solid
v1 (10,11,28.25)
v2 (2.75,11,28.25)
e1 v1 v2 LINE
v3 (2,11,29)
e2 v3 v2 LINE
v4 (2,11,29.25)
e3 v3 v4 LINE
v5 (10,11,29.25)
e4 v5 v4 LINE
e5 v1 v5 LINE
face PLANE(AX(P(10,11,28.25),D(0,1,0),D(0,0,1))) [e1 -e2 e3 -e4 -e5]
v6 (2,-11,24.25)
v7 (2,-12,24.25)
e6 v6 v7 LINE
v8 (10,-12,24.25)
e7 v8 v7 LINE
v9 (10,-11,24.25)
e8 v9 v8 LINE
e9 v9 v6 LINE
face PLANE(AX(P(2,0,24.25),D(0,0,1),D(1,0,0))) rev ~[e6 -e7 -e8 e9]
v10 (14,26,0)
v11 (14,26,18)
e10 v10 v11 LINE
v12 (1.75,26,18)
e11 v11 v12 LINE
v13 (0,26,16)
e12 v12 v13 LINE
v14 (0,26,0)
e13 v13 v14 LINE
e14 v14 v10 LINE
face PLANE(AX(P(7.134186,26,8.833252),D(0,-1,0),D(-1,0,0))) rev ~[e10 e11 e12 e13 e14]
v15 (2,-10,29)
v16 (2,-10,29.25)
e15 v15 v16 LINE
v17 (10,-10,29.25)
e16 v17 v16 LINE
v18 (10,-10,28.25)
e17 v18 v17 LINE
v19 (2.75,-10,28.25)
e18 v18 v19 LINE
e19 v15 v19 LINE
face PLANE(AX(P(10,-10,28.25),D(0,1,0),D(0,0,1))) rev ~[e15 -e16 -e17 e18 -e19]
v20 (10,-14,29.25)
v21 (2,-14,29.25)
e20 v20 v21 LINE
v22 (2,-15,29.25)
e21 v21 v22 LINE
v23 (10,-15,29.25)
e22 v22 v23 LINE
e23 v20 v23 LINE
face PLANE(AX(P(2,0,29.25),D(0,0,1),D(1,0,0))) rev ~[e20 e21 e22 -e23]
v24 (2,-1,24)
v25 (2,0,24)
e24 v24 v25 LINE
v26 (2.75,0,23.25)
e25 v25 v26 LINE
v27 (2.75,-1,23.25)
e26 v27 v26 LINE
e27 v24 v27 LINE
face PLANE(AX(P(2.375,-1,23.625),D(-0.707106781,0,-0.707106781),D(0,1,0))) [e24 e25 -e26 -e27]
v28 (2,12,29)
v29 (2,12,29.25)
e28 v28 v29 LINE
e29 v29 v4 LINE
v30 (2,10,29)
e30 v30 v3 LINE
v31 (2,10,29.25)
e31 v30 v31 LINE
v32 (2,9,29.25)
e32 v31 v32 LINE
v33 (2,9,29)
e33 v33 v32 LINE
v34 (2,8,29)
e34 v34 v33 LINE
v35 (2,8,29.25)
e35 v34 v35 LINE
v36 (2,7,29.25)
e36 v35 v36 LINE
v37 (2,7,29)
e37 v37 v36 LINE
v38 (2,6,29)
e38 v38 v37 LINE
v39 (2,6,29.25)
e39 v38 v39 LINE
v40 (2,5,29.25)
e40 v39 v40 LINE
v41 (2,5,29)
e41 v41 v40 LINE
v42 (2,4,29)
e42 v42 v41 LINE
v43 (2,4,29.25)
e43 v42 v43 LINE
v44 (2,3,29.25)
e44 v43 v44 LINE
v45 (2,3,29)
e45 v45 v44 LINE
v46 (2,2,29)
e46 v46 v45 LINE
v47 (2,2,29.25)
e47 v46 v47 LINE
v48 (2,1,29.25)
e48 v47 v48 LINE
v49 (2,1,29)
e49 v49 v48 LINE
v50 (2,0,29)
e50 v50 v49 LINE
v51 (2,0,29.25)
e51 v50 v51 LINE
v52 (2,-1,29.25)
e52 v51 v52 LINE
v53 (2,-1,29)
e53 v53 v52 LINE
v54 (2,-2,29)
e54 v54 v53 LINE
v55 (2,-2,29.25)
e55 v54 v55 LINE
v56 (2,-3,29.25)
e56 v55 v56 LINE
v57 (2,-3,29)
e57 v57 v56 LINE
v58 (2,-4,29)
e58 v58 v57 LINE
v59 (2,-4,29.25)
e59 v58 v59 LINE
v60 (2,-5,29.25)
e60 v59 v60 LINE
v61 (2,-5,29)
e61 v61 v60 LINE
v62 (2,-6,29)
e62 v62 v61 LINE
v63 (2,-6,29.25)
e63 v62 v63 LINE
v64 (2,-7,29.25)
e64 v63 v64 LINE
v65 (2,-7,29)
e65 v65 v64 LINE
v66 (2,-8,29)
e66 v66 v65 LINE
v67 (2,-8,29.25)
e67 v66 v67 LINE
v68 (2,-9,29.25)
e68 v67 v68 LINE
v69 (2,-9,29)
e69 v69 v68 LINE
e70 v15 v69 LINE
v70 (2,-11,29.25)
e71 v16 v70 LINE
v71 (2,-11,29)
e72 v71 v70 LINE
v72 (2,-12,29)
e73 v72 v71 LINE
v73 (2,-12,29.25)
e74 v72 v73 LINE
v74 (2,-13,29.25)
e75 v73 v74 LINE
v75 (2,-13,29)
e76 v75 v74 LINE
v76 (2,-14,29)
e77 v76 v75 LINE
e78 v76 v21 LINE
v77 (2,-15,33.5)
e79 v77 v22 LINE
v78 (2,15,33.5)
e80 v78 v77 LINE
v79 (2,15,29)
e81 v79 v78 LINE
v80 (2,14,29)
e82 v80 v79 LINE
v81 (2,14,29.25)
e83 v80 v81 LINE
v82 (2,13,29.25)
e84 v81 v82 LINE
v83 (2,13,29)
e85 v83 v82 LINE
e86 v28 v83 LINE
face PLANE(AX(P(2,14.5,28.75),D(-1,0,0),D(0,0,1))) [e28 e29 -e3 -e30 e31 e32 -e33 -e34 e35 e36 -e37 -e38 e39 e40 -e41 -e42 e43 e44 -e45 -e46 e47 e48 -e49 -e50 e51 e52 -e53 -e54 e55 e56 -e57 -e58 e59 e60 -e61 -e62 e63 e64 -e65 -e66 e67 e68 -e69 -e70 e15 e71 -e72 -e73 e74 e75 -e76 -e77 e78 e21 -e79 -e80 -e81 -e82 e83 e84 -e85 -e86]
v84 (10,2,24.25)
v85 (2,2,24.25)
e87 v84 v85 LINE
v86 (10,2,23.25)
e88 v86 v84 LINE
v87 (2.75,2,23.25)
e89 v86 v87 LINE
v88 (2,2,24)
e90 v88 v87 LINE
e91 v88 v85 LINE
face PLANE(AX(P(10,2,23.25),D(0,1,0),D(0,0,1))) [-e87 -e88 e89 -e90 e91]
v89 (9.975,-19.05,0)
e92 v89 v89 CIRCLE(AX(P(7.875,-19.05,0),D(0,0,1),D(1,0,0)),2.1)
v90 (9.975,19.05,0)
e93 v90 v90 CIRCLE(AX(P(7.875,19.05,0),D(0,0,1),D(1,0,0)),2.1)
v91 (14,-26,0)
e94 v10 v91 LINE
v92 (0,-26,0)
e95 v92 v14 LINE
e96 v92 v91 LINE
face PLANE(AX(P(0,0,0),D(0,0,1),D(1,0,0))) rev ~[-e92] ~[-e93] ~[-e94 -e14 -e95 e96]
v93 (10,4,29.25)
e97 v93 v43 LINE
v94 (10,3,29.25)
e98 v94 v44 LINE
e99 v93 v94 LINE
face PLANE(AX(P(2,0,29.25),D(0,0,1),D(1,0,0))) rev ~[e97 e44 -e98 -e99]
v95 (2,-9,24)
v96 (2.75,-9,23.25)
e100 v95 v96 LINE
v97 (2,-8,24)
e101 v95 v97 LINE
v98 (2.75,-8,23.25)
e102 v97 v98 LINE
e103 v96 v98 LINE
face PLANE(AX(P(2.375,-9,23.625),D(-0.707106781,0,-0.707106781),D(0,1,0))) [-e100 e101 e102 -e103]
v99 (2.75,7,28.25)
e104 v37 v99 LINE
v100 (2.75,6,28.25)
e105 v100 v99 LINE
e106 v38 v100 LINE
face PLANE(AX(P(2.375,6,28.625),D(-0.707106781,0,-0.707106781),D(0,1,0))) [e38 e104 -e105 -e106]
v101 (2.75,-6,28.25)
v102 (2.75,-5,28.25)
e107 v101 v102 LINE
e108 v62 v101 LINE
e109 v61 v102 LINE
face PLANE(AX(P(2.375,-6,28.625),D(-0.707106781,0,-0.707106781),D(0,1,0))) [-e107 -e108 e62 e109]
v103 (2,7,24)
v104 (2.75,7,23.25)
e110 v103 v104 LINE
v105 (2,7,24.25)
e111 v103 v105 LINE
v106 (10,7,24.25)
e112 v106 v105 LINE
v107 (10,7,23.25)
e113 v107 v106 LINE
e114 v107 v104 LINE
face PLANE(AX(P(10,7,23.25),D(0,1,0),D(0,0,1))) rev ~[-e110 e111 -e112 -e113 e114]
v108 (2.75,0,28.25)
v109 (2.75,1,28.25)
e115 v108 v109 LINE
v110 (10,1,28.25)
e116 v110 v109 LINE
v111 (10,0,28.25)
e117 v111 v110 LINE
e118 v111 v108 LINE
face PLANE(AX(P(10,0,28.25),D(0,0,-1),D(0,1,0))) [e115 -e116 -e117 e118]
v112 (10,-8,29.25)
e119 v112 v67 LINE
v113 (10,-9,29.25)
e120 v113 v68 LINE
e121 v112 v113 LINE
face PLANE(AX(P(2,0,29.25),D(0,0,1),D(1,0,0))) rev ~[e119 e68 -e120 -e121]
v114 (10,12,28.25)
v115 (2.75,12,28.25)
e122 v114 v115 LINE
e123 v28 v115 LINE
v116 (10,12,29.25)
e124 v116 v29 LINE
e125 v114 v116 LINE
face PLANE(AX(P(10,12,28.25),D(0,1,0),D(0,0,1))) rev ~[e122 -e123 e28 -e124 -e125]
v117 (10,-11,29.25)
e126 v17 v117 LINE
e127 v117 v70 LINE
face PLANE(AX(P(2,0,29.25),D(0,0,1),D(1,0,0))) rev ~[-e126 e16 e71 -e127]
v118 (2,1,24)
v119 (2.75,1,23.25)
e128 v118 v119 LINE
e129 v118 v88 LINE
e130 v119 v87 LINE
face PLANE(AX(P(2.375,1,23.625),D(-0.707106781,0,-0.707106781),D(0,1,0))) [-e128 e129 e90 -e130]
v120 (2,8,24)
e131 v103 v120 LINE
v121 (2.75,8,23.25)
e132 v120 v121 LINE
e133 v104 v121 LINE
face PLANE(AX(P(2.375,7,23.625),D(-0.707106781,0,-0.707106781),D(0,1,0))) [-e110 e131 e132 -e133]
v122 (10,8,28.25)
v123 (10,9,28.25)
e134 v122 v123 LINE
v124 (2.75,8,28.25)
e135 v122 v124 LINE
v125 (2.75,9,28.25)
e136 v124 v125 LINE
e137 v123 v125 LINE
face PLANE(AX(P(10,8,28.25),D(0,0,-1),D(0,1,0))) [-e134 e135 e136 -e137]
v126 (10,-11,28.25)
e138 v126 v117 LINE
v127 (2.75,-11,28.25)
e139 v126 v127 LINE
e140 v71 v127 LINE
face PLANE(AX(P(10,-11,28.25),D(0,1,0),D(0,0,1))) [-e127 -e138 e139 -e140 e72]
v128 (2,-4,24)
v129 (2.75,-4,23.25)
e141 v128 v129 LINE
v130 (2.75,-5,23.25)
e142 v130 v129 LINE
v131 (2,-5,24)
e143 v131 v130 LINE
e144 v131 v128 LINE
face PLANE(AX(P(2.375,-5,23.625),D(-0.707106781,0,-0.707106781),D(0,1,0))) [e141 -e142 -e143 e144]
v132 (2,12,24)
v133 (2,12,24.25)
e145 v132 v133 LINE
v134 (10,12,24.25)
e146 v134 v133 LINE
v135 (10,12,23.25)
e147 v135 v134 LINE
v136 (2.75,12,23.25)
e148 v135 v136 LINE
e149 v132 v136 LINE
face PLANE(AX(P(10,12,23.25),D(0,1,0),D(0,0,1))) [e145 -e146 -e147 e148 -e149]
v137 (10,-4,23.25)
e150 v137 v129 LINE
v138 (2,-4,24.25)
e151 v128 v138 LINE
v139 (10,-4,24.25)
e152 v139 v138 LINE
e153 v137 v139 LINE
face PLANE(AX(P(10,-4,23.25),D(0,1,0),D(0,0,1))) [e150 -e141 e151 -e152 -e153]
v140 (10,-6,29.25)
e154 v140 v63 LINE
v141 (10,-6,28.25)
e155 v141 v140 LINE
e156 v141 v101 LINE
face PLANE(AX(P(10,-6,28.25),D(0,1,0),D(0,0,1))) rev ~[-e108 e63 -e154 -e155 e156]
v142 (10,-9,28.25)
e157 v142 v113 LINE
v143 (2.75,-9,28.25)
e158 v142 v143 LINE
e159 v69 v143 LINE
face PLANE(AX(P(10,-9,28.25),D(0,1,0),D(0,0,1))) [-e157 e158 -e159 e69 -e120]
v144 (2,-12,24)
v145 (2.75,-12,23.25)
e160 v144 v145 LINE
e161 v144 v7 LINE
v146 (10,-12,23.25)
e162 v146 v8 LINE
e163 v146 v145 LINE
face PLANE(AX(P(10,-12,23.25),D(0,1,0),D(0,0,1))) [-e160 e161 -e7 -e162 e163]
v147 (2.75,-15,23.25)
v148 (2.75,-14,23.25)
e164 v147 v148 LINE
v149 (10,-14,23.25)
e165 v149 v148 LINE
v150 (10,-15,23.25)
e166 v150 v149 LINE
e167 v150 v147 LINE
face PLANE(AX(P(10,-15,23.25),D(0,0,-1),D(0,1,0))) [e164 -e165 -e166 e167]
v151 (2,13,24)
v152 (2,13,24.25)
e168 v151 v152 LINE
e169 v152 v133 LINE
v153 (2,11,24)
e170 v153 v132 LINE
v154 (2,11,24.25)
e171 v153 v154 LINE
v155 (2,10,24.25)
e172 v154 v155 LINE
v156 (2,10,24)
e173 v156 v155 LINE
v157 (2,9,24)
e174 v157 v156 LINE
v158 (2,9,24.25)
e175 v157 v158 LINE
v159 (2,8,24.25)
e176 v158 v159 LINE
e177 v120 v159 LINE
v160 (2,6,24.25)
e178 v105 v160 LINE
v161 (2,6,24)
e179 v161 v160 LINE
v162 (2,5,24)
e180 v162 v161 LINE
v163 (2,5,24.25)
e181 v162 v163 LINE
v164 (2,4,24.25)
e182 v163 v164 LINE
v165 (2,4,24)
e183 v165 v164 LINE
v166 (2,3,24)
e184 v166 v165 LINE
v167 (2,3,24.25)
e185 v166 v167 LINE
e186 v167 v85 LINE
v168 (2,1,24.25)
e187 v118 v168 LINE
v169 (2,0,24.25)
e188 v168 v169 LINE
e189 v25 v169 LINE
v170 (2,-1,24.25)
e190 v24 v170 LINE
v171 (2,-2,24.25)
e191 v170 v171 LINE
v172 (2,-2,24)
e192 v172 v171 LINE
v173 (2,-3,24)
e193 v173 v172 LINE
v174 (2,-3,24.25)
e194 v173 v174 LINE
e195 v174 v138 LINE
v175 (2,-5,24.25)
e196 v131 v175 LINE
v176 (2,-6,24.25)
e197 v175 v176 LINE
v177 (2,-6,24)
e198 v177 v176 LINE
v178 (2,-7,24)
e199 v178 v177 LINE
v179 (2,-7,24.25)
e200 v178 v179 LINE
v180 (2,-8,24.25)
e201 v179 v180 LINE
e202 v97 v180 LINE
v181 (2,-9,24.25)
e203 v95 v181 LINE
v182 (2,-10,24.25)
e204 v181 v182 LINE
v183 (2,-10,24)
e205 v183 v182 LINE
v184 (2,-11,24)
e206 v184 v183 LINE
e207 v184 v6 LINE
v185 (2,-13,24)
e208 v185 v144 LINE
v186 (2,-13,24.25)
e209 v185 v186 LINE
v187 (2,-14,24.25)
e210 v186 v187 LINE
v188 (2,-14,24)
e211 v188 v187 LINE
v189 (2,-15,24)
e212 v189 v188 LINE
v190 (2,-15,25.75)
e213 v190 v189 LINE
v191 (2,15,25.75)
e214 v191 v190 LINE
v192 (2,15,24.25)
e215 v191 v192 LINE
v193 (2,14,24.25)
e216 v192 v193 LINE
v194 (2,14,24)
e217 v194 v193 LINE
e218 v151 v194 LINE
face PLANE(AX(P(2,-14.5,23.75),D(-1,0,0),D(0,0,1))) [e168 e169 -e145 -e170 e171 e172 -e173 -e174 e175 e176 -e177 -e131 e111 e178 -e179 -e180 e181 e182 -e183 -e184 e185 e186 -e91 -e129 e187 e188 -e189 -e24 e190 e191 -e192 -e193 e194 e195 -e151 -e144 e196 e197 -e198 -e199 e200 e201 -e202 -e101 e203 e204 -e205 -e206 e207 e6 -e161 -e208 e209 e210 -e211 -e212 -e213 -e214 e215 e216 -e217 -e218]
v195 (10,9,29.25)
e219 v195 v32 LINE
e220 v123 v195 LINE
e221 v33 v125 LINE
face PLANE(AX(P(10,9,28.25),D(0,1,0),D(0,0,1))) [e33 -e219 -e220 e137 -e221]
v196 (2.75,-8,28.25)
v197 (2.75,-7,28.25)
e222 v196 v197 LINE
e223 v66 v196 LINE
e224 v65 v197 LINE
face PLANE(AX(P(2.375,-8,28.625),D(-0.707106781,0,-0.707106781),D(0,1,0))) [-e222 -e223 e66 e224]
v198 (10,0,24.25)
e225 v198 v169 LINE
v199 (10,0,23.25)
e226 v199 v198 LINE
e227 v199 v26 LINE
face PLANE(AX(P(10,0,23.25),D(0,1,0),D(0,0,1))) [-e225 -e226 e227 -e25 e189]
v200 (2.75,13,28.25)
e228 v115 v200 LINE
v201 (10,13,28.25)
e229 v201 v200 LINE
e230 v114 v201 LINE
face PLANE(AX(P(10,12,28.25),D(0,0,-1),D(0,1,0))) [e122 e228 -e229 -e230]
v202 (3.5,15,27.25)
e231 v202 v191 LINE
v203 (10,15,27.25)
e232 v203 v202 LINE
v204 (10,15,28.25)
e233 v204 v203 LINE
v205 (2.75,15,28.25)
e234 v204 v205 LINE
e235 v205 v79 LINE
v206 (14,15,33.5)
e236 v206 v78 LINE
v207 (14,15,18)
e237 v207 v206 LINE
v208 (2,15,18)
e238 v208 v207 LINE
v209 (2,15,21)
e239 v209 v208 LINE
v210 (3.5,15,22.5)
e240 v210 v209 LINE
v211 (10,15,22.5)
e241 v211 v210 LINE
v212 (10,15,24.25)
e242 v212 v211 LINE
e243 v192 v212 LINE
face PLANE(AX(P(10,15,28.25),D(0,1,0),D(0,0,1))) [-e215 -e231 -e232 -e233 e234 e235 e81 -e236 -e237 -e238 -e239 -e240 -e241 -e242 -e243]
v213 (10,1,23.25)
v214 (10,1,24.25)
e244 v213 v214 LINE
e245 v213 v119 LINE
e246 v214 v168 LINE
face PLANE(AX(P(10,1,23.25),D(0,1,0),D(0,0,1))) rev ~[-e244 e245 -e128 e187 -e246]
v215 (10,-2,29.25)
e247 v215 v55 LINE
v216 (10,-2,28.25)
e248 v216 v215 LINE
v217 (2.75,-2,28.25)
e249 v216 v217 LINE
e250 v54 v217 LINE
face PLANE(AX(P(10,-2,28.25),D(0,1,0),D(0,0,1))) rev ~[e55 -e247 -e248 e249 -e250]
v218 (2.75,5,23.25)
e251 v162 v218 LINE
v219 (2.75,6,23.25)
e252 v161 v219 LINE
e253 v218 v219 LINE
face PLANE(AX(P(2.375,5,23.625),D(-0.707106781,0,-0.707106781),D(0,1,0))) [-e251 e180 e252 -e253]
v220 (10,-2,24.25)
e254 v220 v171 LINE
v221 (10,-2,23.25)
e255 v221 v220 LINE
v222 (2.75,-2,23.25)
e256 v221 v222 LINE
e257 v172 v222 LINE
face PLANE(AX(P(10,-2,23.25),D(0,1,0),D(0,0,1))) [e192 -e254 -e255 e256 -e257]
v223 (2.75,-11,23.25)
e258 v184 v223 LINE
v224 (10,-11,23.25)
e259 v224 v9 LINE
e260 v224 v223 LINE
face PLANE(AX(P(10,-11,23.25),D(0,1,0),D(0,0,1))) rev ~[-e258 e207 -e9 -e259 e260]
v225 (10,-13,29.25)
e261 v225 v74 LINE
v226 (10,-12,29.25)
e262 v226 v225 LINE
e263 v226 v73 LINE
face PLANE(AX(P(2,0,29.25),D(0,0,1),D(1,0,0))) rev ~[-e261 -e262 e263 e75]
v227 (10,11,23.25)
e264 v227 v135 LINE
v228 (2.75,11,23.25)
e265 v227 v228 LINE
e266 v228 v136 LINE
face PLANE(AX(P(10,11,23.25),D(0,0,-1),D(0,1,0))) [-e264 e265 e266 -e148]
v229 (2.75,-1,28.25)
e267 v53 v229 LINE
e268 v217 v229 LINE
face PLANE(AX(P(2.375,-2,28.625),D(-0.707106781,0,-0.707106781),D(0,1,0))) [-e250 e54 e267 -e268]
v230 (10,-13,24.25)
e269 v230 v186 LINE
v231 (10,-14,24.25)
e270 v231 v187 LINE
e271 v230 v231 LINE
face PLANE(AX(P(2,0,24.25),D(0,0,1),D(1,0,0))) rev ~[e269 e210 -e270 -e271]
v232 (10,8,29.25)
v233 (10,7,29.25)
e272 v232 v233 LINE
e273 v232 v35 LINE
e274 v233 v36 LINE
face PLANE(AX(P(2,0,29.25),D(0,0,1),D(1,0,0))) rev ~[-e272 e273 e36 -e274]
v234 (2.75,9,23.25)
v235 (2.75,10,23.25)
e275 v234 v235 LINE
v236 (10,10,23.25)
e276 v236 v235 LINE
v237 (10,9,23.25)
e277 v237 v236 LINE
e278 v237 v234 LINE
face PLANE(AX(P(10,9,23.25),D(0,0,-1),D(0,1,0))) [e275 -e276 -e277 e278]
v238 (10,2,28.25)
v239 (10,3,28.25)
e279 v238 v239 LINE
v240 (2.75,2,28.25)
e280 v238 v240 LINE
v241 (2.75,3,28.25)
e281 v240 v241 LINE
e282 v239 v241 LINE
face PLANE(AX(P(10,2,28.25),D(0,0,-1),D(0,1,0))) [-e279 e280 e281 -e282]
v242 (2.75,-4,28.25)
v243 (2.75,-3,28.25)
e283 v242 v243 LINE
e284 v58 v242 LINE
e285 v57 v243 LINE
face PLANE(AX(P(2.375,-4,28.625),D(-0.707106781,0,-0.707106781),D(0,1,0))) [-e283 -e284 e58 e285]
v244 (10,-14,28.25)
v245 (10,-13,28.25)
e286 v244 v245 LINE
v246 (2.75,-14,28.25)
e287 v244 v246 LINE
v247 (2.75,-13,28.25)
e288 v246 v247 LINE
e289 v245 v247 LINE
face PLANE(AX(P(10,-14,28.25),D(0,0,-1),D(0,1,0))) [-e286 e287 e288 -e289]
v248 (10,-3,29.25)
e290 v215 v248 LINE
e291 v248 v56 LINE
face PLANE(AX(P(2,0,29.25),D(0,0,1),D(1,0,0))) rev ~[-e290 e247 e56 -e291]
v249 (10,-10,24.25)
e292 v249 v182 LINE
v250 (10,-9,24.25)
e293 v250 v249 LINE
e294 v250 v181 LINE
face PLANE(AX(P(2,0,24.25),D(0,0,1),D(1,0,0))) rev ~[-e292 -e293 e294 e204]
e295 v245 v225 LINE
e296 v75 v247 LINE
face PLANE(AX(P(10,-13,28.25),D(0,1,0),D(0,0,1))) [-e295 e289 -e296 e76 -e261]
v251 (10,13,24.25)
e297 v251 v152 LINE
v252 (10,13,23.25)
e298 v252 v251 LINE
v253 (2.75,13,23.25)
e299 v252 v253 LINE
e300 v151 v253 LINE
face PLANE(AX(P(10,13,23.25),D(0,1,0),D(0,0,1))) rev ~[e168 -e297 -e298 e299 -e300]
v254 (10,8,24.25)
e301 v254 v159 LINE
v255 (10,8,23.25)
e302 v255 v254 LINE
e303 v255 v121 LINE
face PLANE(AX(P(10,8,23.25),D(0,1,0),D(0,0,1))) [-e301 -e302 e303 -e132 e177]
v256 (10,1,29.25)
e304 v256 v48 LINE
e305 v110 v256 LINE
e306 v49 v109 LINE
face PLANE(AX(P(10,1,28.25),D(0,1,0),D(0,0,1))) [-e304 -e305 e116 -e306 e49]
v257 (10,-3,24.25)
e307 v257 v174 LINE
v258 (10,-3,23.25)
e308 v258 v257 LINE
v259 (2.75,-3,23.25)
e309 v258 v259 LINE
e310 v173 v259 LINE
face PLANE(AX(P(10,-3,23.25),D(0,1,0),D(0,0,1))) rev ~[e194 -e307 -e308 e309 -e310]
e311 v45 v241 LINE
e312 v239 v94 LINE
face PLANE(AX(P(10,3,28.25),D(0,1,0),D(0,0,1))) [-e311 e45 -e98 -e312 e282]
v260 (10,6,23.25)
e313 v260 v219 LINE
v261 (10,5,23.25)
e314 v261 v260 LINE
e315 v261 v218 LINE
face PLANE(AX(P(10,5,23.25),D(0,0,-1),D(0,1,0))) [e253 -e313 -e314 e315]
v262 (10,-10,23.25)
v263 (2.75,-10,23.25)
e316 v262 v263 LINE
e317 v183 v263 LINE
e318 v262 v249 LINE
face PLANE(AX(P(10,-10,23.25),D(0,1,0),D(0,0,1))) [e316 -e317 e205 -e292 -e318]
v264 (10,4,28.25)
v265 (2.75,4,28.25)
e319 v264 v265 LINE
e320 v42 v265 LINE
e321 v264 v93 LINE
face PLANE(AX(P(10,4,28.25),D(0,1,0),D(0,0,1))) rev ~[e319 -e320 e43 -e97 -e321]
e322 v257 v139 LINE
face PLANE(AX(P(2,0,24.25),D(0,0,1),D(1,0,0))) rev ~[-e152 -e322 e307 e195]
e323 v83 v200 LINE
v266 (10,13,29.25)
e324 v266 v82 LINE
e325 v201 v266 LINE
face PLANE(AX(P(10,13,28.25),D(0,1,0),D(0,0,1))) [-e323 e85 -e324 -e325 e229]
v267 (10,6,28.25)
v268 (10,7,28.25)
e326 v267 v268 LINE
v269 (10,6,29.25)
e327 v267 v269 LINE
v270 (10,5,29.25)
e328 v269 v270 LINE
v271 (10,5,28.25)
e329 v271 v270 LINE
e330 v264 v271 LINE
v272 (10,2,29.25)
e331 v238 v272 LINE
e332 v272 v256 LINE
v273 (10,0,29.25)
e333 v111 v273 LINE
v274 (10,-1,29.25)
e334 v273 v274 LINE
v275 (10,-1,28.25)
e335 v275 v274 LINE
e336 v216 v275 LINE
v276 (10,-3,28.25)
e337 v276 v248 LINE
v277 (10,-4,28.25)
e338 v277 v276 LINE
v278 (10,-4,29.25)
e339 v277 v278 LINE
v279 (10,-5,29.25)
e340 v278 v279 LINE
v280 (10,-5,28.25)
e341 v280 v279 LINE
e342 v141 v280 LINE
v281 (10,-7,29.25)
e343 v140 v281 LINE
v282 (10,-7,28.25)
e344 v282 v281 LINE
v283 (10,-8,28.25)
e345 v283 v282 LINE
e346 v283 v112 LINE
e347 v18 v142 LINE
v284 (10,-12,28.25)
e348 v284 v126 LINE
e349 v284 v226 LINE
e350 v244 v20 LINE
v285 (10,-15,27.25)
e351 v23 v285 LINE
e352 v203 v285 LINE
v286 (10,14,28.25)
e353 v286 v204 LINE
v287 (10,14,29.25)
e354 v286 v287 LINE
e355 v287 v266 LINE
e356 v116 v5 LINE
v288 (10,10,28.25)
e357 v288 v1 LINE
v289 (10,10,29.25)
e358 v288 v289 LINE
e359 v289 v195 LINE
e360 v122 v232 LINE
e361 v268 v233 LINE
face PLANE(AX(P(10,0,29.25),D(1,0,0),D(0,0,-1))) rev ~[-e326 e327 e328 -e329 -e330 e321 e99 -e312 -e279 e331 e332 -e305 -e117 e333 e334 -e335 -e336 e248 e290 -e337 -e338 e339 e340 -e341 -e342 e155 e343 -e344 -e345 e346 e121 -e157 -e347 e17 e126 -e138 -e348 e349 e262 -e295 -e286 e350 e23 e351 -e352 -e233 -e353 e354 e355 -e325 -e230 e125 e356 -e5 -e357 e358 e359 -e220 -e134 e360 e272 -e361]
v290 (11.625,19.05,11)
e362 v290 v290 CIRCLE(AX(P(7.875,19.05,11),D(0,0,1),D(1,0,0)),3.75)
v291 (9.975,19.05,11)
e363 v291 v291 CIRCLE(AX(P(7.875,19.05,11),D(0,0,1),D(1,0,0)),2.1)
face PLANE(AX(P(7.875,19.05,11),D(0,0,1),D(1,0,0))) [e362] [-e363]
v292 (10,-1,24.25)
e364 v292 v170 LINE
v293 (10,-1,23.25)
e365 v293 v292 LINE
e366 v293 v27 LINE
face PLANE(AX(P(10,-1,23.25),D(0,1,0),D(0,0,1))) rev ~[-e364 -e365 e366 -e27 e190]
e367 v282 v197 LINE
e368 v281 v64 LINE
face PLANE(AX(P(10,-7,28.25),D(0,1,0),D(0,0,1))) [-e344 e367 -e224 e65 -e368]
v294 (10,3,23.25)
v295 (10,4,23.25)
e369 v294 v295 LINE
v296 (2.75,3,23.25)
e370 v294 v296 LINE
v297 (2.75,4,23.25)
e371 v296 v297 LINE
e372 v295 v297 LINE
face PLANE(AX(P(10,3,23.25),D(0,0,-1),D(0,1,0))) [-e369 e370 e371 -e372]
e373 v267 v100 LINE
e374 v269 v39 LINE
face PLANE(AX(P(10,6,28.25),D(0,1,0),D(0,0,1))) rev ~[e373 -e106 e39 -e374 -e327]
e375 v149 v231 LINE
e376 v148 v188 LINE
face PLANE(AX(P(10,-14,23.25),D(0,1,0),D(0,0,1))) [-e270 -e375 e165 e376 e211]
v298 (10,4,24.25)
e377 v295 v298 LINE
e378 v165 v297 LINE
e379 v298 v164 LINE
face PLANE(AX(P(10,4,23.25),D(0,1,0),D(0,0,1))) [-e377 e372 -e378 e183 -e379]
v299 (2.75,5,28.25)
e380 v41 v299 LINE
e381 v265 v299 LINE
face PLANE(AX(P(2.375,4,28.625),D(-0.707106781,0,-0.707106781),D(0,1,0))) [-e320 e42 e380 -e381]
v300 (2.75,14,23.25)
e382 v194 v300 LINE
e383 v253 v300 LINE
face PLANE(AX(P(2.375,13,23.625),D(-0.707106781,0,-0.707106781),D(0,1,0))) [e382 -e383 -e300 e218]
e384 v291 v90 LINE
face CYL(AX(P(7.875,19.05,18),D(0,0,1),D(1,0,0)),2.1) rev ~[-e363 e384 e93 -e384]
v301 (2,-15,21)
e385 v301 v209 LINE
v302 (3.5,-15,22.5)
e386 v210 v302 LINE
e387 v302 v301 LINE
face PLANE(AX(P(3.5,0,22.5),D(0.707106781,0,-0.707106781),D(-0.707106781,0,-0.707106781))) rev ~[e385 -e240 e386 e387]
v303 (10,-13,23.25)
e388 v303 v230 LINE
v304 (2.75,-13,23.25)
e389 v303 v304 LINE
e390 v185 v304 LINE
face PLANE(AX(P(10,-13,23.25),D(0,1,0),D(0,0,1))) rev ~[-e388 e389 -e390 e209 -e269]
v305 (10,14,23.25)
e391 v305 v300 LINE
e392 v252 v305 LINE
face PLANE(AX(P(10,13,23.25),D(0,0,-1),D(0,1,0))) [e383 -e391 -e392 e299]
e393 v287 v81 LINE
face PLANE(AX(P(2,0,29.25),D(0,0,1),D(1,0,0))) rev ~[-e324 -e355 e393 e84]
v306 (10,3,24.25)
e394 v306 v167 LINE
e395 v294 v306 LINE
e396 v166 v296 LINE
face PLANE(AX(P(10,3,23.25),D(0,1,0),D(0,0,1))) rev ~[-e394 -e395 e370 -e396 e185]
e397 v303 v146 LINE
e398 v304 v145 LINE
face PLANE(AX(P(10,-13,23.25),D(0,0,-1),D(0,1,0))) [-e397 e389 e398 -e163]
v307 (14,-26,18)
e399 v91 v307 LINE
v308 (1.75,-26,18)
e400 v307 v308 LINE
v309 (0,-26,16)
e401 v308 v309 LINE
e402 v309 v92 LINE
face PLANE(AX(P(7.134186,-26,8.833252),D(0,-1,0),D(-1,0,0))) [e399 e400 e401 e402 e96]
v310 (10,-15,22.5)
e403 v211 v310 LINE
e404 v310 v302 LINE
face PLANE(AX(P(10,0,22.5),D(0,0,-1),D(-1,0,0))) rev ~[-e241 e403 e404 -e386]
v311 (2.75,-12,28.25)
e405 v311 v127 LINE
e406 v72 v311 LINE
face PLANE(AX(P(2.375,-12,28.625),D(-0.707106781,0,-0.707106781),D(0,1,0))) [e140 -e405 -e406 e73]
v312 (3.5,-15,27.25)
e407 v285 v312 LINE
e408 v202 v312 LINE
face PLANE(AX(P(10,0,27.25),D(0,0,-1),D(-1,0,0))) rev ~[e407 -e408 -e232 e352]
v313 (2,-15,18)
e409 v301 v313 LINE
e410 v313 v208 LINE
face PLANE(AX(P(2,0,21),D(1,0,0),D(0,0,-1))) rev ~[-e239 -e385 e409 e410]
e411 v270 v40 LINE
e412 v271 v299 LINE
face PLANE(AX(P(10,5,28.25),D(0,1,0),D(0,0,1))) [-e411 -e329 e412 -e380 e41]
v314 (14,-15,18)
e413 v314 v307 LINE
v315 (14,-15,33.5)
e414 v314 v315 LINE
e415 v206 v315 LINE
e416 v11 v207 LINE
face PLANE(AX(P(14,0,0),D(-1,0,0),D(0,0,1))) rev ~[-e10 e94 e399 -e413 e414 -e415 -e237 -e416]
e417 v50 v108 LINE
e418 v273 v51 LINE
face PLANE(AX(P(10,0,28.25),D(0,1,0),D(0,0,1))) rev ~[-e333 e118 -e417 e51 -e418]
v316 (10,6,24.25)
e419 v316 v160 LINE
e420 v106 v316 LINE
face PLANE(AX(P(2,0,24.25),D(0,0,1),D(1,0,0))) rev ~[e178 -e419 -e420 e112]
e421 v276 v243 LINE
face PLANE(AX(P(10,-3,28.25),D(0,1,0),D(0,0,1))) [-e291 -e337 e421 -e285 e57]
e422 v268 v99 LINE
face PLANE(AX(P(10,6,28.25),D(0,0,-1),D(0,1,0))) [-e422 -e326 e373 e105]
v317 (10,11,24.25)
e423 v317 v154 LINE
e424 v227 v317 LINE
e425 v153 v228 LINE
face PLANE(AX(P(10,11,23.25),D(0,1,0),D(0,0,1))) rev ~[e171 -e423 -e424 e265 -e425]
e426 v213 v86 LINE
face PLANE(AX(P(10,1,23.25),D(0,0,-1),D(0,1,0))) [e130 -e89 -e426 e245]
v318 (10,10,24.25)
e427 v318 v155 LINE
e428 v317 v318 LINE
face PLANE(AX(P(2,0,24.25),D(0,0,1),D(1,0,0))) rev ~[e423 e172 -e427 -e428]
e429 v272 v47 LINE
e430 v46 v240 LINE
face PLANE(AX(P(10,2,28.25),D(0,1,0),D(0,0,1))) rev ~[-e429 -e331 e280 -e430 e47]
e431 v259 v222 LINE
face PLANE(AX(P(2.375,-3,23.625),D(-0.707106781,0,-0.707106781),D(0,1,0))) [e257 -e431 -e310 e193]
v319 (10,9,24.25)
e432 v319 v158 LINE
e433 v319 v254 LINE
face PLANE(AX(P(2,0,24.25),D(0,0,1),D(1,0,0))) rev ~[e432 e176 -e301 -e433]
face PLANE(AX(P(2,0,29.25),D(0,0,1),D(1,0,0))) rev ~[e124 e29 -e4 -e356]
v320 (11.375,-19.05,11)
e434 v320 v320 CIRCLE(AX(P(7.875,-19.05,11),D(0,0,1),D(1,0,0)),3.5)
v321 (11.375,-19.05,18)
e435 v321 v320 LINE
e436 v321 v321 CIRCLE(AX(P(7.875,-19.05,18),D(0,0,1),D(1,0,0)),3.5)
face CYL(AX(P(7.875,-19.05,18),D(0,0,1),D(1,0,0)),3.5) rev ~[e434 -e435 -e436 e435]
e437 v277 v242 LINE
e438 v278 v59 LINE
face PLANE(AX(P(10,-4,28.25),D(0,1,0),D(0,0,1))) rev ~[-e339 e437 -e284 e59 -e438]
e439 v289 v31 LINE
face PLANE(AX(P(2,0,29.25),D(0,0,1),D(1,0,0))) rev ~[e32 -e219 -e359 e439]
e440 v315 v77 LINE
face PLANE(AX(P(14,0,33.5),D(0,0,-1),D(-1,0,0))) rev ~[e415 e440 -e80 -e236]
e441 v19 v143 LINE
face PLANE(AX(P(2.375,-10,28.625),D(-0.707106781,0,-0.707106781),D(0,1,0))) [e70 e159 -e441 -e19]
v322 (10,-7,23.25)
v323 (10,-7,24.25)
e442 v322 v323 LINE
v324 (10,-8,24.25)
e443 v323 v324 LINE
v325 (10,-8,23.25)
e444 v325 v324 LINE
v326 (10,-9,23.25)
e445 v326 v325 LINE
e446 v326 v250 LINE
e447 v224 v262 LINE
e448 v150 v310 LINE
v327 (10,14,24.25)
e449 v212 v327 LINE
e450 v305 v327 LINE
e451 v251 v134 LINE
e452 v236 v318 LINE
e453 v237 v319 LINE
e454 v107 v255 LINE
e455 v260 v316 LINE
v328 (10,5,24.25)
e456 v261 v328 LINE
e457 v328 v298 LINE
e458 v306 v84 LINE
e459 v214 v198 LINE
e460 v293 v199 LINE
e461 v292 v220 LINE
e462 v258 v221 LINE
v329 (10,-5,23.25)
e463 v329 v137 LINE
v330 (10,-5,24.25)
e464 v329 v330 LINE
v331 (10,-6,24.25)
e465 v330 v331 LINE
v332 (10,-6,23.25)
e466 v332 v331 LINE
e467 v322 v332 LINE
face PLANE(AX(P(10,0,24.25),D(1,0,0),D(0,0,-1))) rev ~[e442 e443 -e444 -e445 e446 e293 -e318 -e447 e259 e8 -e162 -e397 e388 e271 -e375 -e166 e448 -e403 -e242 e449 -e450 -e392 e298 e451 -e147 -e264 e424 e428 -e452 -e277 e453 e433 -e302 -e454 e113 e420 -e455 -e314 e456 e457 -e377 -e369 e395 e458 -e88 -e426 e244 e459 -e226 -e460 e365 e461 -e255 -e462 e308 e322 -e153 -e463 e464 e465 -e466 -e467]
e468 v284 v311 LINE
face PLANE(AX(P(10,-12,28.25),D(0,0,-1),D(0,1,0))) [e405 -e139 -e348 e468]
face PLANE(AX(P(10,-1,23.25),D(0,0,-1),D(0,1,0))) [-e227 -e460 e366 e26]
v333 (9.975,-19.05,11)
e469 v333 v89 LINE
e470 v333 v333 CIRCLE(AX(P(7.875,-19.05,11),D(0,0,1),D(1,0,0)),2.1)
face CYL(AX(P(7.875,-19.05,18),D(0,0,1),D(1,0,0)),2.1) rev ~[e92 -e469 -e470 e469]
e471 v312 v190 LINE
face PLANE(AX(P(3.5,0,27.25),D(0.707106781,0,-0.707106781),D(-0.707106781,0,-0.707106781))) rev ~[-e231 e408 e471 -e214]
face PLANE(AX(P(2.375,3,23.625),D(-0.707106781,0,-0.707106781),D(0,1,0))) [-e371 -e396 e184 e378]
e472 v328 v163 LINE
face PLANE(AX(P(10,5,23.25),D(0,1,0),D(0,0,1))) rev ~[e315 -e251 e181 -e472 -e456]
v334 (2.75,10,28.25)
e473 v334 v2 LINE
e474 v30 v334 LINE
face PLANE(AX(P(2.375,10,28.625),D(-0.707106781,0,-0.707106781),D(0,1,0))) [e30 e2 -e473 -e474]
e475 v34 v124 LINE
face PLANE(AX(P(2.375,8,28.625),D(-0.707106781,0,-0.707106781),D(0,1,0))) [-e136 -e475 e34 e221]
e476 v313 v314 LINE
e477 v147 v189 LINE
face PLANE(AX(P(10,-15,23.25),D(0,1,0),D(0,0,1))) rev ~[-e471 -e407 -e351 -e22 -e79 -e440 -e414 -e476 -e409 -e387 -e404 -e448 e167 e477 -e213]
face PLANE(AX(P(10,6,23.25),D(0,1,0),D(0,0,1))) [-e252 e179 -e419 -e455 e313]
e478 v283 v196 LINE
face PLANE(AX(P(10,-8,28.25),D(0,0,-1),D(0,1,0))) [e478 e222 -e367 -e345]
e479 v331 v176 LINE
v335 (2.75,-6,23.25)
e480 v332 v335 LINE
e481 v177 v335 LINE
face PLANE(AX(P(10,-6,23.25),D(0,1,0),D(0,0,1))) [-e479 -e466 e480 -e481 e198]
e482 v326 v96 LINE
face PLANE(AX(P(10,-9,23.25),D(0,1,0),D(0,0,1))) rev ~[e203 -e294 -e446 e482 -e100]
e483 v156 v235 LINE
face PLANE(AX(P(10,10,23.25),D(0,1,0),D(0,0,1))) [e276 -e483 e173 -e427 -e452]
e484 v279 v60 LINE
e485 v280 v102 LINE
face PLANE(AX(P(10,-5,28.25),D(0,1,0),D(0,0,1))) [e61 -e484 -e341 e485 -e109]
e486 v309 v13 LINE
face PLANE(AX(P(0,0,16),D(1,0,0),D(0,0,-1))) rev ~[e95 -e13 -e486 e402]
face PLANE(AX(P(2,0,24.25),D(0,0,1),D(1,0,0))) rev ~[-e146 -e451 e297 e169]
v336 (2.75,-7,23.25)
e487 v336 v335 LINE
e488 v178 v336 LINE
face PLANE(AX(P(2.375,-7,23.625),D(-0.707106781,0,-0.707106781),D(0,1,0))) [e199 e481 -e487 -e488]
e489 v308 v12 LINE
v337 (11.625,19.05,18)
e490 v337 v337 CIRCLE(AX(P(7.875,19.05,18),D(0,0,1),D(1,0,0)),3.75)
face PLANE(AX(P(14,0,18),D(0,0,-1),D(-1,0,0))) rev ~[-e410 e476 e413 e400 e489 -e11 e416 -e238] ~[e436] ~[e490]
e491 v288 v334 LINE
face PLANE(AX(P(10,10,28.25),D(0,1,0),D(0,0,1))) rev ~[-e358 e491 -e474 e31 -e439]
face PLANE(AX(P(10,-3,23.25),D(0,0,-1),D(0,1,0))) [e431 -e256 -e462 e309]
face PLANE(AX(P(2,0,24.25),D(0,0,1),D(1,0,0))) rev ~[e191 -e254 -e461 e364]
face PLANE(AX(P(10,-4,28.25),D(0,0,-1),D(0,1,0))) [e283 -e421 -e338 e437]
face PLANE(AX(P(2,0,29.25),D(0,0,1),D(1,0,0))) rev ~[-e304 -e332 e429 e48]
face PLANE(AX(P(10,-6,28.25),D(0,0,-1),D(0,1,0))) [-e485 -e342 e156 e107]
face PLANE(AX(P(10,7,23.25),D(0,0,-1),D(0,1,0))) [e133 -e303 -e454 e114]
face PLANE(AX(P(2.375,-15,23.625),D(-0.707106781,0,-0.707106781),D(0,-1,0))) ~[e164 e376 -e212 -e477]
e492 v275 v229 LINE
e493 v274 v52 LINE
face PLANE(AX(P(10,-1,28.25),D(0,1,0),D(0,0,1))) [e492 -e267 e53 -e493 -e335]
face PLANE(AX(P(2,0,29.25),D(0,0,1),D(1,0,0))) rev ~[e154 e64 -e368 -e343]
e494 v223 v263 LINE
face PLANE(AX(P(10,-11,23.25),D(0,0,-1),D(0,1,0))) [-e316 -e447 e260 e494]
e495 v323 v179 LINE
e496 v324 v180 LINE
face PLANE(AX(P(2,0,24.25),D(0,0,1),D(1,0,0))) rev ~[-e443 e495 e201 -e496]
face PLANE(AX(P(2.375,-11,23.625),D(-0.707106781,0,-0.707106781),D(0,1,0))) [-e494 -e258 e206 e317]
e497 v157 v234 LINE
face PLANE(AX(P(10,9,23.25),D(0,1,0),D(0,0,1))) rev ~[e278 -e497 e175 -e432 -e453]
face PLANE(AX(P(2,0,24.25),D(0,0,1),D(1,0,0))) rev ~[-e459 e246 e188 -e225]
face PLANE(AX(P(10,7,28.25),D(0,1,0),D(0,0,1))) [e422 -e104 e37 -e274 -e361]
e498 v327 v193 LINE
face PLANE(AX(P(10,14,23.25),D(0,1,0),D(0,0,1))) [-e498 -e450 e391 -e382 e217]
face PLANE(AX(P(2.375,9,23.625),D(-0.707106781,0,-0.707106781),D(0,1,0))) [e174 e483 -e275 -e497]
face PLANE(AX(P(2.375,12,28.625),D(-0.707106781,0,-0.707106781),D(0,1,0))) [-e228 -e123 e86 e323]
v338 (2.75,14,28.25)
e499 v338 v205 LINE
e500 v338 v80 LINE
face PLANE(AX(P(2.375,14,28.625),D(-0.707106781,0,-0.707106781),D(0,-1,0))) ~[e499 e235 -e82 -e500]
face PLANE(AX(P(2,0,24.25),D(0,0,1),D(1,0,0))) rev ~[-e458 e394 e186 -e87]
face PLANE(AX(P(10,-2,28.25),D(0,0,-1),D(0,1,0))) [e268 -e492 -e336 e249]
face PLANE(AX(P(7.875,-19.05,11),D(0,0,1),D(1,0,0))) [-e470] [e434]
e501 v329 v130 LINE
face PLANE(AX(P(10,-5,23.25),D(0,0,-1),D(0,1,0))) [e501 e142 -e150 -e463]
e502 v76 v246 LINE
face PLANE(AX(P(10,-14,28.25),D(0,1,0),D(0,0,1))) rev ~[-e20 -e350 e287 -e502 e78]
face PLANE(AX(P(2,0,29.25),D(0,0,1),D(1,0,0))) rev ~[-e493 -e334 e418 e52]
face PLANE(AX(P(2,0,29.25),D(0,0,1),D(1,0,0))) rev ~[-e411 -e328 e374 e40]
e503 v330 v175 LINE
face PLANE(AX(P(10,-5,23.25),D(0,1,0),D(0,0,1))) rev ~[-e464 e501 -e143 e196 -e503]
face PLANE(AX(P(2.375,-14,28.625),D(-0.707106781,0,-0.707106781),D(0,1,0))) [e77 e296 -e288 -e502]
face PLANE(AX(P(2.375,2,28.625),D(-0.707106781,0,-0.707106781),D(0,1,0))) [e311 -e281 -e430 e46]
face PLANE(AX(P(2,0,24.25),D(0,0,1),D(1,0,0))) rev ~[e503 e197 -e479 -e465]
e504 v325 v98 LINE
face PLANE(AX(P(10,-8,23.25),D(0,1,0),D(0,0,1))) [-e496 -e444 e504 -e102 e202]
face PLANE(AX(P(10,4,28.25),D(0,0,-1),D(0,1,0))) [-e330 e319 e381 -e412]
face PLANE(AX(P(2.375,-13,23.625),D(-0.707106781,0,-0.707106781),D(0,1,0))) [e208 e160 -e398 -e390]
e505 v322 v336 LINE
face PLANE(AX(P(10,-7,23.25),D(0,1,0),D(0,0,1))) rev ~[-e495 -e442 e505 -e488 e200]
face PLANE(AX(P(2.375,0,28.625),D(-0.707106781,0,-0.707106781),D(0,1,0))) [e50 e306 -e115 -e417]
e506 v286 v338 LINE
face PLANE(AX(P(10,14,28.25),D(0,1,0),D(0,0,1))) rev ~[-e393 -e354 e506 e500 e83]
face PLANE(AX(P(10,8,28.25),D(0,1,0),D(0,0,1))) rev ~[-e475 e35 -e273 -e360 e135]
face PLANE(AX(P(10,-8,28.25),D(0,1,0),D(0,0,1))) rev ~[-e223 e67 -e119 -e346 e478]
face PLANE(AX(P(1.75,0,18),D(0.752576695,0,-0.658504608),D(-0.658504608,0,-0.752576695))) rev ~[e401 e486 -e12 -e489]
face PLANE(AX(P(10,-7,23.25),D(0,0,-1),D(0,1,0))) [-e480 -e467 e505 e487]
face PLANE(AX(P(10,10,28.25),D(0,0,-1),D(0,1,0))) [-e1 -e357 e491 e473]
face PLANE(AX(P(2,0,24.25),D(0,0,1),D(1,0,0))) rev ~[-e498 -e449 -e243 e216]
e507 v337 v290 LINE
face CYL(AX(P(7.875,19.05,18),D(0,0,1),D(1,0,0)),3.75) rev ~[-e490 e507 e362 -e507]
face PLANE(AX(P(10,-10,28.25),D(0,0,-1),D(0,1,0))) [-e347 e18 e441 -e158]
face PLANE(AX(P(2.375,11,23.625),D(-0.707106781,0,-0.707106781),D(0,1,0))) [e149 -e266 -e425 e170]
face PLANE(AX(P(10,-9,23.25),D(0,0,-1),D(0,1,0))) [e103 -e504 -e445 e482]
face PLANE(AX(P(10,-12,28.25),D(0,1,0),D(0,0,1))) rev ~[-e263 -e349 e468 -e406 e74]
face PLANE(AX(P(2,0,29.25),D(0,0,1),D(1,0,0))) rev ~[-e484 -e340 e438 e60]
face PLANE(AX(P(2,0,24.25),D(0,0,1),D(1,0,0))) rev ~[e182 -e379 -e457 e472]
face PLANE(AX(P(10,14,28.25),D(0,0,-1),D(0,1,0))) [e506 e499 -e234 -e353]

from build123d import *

# Parameters (mm, degrees)
BOSS_EXTRUDE1_DEPTH        = 26
BOSS_EXTRUDE2_DEPTH        = 15
SKETCH3_W                  = 1
SKETCH3_H                  = 1
BOSS_EXTRUDE3_DEPTH        = 8
CHAMFER1_SIZE              = 0.75
LPATTERN1_COUNT            = 15
LPATTERN1_PITCH            = 2
CHAMFER1_OF_LPATTERN1_SIZE = 0.75
SKETCH5_W                  = 1
SKETCH5_H                  = 1
BOSS_EXTRUDE4_DEPTH        = 8
CHAMFER2_SIZE              = 0.75
LPATTERN2_COUNT            = 15
LPATTERN2_PITCH            = 2
CHAMFER2_OF_LPATTERN2_SIZE = 0.75
SKETCH6_R                  = 2.1
CUT_EXTRUDE1_DEPTH         = 30
SKETCH7_R                  = 3.75
SKETCH7_R_2                = 3.5
CUT_EXTRUDE2_DEPTH         = 7


with BuildPart() as part:
    # Sketch1 → Boss-Extrude1 (new body, symmetric)
    with BuildSketch(Plane(origin=(0, 0, 0), x_dir=(1, 0, 0), z_dir=(0, 1, 0))):
        Polygon((0, 0), (14, 0), (14, -18), (1.75, -18), (0, -16), align=None)
    extrude(amount=BOSS_EXTRUDE1_DEPTH, both=True)

    # Sketch2 → Boss-Extrude2 (add, symmetric)
    with BuildSketch(Plane(origin=(0, 0, 0), x_dir=(1, 0, 0), z_dir=(0, 1, 0))):
        Polygon((14, -18), (14, -33.5), (2, -33.5), (2, -29.25), (10, -29.25), (10, -27.25), (3.5, -27.25), (2, -25.75), (2, -24.25), (10, -24.25), (10, -22.5), (3.5, -22.5), (2, -21), (2, -18), align=None)
    extrude(amount=BOSS_EXTRUDE2_DEPTH, both=True)

    # Sketch3 → Boss-Extrude3 (add)
    with BuildSketch(Plane.ZY.offset(-10)):
        with Locations((28.75, 14.5)):
            Rectangle(SKETCH3_W, SKETCH3_H)
    boss_extrude3 = extrude(amount=BOSS_EXTRUDE3_DEPTH)

    # Chamfer1
    chamfer1_edges = [part.edges().sort_by_distance(p)[0] for p in [
        (2, 14.5, 28.25),
    ]]
    chamfer(chamfer1_edges, length=CHAMFER1_SIZE)

    # LPattern1: Boss-Extrude3 ×15
    with Locations(*[(0, -i * LPATTERN1_PITCH, 0) for i in range(1, LPATTERN1_COUNT)]):
        add(boss_extrude3)

    # Chamfer1 of LPattern1
    chamfer1_of_lpattern1_edges = [part.edges().sort_by_distance(p)[0] for p in [
        (2, 12.5, 28.25),
        (2, 10.5, 28.25),
        (2, 8.5, 28.25),
        (2, 6.5, 28.25),
        (2, 4.5, 28.25),
        (2, 2.5, 28.25),
        (2, 0.5, 28.25),
        (2, -1.5, 28.25),
        (2, -3.5, 28.25),
        (2, -5.5, 28.25),
        (2, -7.5, 28.25),
        (2, -9.5, 28.25),
        (2, -11.5, 28.25),
        (2, -13.5, 28.25),
    ]]
    chamfer(chamfer1_of_lpattern1_edges, length=CHAMFER1_OF_LPATTERN1_SIZE)

    # Sketch5 → Boss-Extrude4 (add)
    with BuildSketch(Plane.ZY.offset(-10)):
        with Locations((23.75, -14.5)):
            Rectangle(SKETCH5_W, SKETCH5_H)
    boss_extrude4 = extrude(amount=BOSS_EXTRUDE4_DEPTH)

    # Chamfer2
    chamfer2_edges = [part.edges().sort_by_distance(p)[0] for p in [
        (2, -14.5, 23.25),
    ]]
    chamfer(chamfer2_edges, length=CHAMFER2_SIZE)

    # LPattern2: Boss-Extrude4 ×15
    with Locations(*[(0, i * LPATTERN2_PITCH, 0) for i in range(1, LPATTERN2_COUNT)]):
        add(boss_extrude4)

    # Chamfer2 of LPattern2
    chamfer2_of_lpattern2_edges = [part.edges().sort_by_distance(p)[0] for p in [
        (2, -12.5, 23.25),
        (2, -10.5, 23.25),
        (2, -8.5, 23.25),
        (2, -6.5, 23.25),
        (2, -4.5, 23.25),
        (2, -2.5, 23.25),
        (2, -0.5, 23.25),
        (2, 1.5, 23.25),
        (2, 3.5, 23.25),
        (2, 5.5, 23.25),
        (2, 7.5, 23.25),
        (2, 9.5, 23.25),
        (2, 11.5, 23.25),
        (2, 13.5, 23.25),
    ]]
    chamfer(chamfer2_of_lpattern2_edges, length=CHAMFER2_OF_LPATTERN2_SIZE)

    # Sketch6 → Cut-Extrude1 (cut)
    with BuildSketch(Plane.XY.offset(18)):
        with Locations((7.875, 19.05)):
            Circle(SKETCH6_R)
        with Locations((7.875, -19.05)):
            Circle(SKETCH6_R)
    extrude(amount=-CUT_EXTRUDE1_DEPTH, mode=Mode.SUBTRACT)

    # Sketch7 → Cut-Extrude2 (cut)
    with BuildSketch(Plane.XY.offset(18)):
        with Locations((7.875, 19.05)):
            Circle(SKETCH7_R)
        with Locations((7.875, -19.05)):
            Circle(SKETCH7_R_2)
    extrude(amount=-CUT_EXTRUDE2_DEPTH, mode=Mode.SUBTRACT)


solid = part.part
